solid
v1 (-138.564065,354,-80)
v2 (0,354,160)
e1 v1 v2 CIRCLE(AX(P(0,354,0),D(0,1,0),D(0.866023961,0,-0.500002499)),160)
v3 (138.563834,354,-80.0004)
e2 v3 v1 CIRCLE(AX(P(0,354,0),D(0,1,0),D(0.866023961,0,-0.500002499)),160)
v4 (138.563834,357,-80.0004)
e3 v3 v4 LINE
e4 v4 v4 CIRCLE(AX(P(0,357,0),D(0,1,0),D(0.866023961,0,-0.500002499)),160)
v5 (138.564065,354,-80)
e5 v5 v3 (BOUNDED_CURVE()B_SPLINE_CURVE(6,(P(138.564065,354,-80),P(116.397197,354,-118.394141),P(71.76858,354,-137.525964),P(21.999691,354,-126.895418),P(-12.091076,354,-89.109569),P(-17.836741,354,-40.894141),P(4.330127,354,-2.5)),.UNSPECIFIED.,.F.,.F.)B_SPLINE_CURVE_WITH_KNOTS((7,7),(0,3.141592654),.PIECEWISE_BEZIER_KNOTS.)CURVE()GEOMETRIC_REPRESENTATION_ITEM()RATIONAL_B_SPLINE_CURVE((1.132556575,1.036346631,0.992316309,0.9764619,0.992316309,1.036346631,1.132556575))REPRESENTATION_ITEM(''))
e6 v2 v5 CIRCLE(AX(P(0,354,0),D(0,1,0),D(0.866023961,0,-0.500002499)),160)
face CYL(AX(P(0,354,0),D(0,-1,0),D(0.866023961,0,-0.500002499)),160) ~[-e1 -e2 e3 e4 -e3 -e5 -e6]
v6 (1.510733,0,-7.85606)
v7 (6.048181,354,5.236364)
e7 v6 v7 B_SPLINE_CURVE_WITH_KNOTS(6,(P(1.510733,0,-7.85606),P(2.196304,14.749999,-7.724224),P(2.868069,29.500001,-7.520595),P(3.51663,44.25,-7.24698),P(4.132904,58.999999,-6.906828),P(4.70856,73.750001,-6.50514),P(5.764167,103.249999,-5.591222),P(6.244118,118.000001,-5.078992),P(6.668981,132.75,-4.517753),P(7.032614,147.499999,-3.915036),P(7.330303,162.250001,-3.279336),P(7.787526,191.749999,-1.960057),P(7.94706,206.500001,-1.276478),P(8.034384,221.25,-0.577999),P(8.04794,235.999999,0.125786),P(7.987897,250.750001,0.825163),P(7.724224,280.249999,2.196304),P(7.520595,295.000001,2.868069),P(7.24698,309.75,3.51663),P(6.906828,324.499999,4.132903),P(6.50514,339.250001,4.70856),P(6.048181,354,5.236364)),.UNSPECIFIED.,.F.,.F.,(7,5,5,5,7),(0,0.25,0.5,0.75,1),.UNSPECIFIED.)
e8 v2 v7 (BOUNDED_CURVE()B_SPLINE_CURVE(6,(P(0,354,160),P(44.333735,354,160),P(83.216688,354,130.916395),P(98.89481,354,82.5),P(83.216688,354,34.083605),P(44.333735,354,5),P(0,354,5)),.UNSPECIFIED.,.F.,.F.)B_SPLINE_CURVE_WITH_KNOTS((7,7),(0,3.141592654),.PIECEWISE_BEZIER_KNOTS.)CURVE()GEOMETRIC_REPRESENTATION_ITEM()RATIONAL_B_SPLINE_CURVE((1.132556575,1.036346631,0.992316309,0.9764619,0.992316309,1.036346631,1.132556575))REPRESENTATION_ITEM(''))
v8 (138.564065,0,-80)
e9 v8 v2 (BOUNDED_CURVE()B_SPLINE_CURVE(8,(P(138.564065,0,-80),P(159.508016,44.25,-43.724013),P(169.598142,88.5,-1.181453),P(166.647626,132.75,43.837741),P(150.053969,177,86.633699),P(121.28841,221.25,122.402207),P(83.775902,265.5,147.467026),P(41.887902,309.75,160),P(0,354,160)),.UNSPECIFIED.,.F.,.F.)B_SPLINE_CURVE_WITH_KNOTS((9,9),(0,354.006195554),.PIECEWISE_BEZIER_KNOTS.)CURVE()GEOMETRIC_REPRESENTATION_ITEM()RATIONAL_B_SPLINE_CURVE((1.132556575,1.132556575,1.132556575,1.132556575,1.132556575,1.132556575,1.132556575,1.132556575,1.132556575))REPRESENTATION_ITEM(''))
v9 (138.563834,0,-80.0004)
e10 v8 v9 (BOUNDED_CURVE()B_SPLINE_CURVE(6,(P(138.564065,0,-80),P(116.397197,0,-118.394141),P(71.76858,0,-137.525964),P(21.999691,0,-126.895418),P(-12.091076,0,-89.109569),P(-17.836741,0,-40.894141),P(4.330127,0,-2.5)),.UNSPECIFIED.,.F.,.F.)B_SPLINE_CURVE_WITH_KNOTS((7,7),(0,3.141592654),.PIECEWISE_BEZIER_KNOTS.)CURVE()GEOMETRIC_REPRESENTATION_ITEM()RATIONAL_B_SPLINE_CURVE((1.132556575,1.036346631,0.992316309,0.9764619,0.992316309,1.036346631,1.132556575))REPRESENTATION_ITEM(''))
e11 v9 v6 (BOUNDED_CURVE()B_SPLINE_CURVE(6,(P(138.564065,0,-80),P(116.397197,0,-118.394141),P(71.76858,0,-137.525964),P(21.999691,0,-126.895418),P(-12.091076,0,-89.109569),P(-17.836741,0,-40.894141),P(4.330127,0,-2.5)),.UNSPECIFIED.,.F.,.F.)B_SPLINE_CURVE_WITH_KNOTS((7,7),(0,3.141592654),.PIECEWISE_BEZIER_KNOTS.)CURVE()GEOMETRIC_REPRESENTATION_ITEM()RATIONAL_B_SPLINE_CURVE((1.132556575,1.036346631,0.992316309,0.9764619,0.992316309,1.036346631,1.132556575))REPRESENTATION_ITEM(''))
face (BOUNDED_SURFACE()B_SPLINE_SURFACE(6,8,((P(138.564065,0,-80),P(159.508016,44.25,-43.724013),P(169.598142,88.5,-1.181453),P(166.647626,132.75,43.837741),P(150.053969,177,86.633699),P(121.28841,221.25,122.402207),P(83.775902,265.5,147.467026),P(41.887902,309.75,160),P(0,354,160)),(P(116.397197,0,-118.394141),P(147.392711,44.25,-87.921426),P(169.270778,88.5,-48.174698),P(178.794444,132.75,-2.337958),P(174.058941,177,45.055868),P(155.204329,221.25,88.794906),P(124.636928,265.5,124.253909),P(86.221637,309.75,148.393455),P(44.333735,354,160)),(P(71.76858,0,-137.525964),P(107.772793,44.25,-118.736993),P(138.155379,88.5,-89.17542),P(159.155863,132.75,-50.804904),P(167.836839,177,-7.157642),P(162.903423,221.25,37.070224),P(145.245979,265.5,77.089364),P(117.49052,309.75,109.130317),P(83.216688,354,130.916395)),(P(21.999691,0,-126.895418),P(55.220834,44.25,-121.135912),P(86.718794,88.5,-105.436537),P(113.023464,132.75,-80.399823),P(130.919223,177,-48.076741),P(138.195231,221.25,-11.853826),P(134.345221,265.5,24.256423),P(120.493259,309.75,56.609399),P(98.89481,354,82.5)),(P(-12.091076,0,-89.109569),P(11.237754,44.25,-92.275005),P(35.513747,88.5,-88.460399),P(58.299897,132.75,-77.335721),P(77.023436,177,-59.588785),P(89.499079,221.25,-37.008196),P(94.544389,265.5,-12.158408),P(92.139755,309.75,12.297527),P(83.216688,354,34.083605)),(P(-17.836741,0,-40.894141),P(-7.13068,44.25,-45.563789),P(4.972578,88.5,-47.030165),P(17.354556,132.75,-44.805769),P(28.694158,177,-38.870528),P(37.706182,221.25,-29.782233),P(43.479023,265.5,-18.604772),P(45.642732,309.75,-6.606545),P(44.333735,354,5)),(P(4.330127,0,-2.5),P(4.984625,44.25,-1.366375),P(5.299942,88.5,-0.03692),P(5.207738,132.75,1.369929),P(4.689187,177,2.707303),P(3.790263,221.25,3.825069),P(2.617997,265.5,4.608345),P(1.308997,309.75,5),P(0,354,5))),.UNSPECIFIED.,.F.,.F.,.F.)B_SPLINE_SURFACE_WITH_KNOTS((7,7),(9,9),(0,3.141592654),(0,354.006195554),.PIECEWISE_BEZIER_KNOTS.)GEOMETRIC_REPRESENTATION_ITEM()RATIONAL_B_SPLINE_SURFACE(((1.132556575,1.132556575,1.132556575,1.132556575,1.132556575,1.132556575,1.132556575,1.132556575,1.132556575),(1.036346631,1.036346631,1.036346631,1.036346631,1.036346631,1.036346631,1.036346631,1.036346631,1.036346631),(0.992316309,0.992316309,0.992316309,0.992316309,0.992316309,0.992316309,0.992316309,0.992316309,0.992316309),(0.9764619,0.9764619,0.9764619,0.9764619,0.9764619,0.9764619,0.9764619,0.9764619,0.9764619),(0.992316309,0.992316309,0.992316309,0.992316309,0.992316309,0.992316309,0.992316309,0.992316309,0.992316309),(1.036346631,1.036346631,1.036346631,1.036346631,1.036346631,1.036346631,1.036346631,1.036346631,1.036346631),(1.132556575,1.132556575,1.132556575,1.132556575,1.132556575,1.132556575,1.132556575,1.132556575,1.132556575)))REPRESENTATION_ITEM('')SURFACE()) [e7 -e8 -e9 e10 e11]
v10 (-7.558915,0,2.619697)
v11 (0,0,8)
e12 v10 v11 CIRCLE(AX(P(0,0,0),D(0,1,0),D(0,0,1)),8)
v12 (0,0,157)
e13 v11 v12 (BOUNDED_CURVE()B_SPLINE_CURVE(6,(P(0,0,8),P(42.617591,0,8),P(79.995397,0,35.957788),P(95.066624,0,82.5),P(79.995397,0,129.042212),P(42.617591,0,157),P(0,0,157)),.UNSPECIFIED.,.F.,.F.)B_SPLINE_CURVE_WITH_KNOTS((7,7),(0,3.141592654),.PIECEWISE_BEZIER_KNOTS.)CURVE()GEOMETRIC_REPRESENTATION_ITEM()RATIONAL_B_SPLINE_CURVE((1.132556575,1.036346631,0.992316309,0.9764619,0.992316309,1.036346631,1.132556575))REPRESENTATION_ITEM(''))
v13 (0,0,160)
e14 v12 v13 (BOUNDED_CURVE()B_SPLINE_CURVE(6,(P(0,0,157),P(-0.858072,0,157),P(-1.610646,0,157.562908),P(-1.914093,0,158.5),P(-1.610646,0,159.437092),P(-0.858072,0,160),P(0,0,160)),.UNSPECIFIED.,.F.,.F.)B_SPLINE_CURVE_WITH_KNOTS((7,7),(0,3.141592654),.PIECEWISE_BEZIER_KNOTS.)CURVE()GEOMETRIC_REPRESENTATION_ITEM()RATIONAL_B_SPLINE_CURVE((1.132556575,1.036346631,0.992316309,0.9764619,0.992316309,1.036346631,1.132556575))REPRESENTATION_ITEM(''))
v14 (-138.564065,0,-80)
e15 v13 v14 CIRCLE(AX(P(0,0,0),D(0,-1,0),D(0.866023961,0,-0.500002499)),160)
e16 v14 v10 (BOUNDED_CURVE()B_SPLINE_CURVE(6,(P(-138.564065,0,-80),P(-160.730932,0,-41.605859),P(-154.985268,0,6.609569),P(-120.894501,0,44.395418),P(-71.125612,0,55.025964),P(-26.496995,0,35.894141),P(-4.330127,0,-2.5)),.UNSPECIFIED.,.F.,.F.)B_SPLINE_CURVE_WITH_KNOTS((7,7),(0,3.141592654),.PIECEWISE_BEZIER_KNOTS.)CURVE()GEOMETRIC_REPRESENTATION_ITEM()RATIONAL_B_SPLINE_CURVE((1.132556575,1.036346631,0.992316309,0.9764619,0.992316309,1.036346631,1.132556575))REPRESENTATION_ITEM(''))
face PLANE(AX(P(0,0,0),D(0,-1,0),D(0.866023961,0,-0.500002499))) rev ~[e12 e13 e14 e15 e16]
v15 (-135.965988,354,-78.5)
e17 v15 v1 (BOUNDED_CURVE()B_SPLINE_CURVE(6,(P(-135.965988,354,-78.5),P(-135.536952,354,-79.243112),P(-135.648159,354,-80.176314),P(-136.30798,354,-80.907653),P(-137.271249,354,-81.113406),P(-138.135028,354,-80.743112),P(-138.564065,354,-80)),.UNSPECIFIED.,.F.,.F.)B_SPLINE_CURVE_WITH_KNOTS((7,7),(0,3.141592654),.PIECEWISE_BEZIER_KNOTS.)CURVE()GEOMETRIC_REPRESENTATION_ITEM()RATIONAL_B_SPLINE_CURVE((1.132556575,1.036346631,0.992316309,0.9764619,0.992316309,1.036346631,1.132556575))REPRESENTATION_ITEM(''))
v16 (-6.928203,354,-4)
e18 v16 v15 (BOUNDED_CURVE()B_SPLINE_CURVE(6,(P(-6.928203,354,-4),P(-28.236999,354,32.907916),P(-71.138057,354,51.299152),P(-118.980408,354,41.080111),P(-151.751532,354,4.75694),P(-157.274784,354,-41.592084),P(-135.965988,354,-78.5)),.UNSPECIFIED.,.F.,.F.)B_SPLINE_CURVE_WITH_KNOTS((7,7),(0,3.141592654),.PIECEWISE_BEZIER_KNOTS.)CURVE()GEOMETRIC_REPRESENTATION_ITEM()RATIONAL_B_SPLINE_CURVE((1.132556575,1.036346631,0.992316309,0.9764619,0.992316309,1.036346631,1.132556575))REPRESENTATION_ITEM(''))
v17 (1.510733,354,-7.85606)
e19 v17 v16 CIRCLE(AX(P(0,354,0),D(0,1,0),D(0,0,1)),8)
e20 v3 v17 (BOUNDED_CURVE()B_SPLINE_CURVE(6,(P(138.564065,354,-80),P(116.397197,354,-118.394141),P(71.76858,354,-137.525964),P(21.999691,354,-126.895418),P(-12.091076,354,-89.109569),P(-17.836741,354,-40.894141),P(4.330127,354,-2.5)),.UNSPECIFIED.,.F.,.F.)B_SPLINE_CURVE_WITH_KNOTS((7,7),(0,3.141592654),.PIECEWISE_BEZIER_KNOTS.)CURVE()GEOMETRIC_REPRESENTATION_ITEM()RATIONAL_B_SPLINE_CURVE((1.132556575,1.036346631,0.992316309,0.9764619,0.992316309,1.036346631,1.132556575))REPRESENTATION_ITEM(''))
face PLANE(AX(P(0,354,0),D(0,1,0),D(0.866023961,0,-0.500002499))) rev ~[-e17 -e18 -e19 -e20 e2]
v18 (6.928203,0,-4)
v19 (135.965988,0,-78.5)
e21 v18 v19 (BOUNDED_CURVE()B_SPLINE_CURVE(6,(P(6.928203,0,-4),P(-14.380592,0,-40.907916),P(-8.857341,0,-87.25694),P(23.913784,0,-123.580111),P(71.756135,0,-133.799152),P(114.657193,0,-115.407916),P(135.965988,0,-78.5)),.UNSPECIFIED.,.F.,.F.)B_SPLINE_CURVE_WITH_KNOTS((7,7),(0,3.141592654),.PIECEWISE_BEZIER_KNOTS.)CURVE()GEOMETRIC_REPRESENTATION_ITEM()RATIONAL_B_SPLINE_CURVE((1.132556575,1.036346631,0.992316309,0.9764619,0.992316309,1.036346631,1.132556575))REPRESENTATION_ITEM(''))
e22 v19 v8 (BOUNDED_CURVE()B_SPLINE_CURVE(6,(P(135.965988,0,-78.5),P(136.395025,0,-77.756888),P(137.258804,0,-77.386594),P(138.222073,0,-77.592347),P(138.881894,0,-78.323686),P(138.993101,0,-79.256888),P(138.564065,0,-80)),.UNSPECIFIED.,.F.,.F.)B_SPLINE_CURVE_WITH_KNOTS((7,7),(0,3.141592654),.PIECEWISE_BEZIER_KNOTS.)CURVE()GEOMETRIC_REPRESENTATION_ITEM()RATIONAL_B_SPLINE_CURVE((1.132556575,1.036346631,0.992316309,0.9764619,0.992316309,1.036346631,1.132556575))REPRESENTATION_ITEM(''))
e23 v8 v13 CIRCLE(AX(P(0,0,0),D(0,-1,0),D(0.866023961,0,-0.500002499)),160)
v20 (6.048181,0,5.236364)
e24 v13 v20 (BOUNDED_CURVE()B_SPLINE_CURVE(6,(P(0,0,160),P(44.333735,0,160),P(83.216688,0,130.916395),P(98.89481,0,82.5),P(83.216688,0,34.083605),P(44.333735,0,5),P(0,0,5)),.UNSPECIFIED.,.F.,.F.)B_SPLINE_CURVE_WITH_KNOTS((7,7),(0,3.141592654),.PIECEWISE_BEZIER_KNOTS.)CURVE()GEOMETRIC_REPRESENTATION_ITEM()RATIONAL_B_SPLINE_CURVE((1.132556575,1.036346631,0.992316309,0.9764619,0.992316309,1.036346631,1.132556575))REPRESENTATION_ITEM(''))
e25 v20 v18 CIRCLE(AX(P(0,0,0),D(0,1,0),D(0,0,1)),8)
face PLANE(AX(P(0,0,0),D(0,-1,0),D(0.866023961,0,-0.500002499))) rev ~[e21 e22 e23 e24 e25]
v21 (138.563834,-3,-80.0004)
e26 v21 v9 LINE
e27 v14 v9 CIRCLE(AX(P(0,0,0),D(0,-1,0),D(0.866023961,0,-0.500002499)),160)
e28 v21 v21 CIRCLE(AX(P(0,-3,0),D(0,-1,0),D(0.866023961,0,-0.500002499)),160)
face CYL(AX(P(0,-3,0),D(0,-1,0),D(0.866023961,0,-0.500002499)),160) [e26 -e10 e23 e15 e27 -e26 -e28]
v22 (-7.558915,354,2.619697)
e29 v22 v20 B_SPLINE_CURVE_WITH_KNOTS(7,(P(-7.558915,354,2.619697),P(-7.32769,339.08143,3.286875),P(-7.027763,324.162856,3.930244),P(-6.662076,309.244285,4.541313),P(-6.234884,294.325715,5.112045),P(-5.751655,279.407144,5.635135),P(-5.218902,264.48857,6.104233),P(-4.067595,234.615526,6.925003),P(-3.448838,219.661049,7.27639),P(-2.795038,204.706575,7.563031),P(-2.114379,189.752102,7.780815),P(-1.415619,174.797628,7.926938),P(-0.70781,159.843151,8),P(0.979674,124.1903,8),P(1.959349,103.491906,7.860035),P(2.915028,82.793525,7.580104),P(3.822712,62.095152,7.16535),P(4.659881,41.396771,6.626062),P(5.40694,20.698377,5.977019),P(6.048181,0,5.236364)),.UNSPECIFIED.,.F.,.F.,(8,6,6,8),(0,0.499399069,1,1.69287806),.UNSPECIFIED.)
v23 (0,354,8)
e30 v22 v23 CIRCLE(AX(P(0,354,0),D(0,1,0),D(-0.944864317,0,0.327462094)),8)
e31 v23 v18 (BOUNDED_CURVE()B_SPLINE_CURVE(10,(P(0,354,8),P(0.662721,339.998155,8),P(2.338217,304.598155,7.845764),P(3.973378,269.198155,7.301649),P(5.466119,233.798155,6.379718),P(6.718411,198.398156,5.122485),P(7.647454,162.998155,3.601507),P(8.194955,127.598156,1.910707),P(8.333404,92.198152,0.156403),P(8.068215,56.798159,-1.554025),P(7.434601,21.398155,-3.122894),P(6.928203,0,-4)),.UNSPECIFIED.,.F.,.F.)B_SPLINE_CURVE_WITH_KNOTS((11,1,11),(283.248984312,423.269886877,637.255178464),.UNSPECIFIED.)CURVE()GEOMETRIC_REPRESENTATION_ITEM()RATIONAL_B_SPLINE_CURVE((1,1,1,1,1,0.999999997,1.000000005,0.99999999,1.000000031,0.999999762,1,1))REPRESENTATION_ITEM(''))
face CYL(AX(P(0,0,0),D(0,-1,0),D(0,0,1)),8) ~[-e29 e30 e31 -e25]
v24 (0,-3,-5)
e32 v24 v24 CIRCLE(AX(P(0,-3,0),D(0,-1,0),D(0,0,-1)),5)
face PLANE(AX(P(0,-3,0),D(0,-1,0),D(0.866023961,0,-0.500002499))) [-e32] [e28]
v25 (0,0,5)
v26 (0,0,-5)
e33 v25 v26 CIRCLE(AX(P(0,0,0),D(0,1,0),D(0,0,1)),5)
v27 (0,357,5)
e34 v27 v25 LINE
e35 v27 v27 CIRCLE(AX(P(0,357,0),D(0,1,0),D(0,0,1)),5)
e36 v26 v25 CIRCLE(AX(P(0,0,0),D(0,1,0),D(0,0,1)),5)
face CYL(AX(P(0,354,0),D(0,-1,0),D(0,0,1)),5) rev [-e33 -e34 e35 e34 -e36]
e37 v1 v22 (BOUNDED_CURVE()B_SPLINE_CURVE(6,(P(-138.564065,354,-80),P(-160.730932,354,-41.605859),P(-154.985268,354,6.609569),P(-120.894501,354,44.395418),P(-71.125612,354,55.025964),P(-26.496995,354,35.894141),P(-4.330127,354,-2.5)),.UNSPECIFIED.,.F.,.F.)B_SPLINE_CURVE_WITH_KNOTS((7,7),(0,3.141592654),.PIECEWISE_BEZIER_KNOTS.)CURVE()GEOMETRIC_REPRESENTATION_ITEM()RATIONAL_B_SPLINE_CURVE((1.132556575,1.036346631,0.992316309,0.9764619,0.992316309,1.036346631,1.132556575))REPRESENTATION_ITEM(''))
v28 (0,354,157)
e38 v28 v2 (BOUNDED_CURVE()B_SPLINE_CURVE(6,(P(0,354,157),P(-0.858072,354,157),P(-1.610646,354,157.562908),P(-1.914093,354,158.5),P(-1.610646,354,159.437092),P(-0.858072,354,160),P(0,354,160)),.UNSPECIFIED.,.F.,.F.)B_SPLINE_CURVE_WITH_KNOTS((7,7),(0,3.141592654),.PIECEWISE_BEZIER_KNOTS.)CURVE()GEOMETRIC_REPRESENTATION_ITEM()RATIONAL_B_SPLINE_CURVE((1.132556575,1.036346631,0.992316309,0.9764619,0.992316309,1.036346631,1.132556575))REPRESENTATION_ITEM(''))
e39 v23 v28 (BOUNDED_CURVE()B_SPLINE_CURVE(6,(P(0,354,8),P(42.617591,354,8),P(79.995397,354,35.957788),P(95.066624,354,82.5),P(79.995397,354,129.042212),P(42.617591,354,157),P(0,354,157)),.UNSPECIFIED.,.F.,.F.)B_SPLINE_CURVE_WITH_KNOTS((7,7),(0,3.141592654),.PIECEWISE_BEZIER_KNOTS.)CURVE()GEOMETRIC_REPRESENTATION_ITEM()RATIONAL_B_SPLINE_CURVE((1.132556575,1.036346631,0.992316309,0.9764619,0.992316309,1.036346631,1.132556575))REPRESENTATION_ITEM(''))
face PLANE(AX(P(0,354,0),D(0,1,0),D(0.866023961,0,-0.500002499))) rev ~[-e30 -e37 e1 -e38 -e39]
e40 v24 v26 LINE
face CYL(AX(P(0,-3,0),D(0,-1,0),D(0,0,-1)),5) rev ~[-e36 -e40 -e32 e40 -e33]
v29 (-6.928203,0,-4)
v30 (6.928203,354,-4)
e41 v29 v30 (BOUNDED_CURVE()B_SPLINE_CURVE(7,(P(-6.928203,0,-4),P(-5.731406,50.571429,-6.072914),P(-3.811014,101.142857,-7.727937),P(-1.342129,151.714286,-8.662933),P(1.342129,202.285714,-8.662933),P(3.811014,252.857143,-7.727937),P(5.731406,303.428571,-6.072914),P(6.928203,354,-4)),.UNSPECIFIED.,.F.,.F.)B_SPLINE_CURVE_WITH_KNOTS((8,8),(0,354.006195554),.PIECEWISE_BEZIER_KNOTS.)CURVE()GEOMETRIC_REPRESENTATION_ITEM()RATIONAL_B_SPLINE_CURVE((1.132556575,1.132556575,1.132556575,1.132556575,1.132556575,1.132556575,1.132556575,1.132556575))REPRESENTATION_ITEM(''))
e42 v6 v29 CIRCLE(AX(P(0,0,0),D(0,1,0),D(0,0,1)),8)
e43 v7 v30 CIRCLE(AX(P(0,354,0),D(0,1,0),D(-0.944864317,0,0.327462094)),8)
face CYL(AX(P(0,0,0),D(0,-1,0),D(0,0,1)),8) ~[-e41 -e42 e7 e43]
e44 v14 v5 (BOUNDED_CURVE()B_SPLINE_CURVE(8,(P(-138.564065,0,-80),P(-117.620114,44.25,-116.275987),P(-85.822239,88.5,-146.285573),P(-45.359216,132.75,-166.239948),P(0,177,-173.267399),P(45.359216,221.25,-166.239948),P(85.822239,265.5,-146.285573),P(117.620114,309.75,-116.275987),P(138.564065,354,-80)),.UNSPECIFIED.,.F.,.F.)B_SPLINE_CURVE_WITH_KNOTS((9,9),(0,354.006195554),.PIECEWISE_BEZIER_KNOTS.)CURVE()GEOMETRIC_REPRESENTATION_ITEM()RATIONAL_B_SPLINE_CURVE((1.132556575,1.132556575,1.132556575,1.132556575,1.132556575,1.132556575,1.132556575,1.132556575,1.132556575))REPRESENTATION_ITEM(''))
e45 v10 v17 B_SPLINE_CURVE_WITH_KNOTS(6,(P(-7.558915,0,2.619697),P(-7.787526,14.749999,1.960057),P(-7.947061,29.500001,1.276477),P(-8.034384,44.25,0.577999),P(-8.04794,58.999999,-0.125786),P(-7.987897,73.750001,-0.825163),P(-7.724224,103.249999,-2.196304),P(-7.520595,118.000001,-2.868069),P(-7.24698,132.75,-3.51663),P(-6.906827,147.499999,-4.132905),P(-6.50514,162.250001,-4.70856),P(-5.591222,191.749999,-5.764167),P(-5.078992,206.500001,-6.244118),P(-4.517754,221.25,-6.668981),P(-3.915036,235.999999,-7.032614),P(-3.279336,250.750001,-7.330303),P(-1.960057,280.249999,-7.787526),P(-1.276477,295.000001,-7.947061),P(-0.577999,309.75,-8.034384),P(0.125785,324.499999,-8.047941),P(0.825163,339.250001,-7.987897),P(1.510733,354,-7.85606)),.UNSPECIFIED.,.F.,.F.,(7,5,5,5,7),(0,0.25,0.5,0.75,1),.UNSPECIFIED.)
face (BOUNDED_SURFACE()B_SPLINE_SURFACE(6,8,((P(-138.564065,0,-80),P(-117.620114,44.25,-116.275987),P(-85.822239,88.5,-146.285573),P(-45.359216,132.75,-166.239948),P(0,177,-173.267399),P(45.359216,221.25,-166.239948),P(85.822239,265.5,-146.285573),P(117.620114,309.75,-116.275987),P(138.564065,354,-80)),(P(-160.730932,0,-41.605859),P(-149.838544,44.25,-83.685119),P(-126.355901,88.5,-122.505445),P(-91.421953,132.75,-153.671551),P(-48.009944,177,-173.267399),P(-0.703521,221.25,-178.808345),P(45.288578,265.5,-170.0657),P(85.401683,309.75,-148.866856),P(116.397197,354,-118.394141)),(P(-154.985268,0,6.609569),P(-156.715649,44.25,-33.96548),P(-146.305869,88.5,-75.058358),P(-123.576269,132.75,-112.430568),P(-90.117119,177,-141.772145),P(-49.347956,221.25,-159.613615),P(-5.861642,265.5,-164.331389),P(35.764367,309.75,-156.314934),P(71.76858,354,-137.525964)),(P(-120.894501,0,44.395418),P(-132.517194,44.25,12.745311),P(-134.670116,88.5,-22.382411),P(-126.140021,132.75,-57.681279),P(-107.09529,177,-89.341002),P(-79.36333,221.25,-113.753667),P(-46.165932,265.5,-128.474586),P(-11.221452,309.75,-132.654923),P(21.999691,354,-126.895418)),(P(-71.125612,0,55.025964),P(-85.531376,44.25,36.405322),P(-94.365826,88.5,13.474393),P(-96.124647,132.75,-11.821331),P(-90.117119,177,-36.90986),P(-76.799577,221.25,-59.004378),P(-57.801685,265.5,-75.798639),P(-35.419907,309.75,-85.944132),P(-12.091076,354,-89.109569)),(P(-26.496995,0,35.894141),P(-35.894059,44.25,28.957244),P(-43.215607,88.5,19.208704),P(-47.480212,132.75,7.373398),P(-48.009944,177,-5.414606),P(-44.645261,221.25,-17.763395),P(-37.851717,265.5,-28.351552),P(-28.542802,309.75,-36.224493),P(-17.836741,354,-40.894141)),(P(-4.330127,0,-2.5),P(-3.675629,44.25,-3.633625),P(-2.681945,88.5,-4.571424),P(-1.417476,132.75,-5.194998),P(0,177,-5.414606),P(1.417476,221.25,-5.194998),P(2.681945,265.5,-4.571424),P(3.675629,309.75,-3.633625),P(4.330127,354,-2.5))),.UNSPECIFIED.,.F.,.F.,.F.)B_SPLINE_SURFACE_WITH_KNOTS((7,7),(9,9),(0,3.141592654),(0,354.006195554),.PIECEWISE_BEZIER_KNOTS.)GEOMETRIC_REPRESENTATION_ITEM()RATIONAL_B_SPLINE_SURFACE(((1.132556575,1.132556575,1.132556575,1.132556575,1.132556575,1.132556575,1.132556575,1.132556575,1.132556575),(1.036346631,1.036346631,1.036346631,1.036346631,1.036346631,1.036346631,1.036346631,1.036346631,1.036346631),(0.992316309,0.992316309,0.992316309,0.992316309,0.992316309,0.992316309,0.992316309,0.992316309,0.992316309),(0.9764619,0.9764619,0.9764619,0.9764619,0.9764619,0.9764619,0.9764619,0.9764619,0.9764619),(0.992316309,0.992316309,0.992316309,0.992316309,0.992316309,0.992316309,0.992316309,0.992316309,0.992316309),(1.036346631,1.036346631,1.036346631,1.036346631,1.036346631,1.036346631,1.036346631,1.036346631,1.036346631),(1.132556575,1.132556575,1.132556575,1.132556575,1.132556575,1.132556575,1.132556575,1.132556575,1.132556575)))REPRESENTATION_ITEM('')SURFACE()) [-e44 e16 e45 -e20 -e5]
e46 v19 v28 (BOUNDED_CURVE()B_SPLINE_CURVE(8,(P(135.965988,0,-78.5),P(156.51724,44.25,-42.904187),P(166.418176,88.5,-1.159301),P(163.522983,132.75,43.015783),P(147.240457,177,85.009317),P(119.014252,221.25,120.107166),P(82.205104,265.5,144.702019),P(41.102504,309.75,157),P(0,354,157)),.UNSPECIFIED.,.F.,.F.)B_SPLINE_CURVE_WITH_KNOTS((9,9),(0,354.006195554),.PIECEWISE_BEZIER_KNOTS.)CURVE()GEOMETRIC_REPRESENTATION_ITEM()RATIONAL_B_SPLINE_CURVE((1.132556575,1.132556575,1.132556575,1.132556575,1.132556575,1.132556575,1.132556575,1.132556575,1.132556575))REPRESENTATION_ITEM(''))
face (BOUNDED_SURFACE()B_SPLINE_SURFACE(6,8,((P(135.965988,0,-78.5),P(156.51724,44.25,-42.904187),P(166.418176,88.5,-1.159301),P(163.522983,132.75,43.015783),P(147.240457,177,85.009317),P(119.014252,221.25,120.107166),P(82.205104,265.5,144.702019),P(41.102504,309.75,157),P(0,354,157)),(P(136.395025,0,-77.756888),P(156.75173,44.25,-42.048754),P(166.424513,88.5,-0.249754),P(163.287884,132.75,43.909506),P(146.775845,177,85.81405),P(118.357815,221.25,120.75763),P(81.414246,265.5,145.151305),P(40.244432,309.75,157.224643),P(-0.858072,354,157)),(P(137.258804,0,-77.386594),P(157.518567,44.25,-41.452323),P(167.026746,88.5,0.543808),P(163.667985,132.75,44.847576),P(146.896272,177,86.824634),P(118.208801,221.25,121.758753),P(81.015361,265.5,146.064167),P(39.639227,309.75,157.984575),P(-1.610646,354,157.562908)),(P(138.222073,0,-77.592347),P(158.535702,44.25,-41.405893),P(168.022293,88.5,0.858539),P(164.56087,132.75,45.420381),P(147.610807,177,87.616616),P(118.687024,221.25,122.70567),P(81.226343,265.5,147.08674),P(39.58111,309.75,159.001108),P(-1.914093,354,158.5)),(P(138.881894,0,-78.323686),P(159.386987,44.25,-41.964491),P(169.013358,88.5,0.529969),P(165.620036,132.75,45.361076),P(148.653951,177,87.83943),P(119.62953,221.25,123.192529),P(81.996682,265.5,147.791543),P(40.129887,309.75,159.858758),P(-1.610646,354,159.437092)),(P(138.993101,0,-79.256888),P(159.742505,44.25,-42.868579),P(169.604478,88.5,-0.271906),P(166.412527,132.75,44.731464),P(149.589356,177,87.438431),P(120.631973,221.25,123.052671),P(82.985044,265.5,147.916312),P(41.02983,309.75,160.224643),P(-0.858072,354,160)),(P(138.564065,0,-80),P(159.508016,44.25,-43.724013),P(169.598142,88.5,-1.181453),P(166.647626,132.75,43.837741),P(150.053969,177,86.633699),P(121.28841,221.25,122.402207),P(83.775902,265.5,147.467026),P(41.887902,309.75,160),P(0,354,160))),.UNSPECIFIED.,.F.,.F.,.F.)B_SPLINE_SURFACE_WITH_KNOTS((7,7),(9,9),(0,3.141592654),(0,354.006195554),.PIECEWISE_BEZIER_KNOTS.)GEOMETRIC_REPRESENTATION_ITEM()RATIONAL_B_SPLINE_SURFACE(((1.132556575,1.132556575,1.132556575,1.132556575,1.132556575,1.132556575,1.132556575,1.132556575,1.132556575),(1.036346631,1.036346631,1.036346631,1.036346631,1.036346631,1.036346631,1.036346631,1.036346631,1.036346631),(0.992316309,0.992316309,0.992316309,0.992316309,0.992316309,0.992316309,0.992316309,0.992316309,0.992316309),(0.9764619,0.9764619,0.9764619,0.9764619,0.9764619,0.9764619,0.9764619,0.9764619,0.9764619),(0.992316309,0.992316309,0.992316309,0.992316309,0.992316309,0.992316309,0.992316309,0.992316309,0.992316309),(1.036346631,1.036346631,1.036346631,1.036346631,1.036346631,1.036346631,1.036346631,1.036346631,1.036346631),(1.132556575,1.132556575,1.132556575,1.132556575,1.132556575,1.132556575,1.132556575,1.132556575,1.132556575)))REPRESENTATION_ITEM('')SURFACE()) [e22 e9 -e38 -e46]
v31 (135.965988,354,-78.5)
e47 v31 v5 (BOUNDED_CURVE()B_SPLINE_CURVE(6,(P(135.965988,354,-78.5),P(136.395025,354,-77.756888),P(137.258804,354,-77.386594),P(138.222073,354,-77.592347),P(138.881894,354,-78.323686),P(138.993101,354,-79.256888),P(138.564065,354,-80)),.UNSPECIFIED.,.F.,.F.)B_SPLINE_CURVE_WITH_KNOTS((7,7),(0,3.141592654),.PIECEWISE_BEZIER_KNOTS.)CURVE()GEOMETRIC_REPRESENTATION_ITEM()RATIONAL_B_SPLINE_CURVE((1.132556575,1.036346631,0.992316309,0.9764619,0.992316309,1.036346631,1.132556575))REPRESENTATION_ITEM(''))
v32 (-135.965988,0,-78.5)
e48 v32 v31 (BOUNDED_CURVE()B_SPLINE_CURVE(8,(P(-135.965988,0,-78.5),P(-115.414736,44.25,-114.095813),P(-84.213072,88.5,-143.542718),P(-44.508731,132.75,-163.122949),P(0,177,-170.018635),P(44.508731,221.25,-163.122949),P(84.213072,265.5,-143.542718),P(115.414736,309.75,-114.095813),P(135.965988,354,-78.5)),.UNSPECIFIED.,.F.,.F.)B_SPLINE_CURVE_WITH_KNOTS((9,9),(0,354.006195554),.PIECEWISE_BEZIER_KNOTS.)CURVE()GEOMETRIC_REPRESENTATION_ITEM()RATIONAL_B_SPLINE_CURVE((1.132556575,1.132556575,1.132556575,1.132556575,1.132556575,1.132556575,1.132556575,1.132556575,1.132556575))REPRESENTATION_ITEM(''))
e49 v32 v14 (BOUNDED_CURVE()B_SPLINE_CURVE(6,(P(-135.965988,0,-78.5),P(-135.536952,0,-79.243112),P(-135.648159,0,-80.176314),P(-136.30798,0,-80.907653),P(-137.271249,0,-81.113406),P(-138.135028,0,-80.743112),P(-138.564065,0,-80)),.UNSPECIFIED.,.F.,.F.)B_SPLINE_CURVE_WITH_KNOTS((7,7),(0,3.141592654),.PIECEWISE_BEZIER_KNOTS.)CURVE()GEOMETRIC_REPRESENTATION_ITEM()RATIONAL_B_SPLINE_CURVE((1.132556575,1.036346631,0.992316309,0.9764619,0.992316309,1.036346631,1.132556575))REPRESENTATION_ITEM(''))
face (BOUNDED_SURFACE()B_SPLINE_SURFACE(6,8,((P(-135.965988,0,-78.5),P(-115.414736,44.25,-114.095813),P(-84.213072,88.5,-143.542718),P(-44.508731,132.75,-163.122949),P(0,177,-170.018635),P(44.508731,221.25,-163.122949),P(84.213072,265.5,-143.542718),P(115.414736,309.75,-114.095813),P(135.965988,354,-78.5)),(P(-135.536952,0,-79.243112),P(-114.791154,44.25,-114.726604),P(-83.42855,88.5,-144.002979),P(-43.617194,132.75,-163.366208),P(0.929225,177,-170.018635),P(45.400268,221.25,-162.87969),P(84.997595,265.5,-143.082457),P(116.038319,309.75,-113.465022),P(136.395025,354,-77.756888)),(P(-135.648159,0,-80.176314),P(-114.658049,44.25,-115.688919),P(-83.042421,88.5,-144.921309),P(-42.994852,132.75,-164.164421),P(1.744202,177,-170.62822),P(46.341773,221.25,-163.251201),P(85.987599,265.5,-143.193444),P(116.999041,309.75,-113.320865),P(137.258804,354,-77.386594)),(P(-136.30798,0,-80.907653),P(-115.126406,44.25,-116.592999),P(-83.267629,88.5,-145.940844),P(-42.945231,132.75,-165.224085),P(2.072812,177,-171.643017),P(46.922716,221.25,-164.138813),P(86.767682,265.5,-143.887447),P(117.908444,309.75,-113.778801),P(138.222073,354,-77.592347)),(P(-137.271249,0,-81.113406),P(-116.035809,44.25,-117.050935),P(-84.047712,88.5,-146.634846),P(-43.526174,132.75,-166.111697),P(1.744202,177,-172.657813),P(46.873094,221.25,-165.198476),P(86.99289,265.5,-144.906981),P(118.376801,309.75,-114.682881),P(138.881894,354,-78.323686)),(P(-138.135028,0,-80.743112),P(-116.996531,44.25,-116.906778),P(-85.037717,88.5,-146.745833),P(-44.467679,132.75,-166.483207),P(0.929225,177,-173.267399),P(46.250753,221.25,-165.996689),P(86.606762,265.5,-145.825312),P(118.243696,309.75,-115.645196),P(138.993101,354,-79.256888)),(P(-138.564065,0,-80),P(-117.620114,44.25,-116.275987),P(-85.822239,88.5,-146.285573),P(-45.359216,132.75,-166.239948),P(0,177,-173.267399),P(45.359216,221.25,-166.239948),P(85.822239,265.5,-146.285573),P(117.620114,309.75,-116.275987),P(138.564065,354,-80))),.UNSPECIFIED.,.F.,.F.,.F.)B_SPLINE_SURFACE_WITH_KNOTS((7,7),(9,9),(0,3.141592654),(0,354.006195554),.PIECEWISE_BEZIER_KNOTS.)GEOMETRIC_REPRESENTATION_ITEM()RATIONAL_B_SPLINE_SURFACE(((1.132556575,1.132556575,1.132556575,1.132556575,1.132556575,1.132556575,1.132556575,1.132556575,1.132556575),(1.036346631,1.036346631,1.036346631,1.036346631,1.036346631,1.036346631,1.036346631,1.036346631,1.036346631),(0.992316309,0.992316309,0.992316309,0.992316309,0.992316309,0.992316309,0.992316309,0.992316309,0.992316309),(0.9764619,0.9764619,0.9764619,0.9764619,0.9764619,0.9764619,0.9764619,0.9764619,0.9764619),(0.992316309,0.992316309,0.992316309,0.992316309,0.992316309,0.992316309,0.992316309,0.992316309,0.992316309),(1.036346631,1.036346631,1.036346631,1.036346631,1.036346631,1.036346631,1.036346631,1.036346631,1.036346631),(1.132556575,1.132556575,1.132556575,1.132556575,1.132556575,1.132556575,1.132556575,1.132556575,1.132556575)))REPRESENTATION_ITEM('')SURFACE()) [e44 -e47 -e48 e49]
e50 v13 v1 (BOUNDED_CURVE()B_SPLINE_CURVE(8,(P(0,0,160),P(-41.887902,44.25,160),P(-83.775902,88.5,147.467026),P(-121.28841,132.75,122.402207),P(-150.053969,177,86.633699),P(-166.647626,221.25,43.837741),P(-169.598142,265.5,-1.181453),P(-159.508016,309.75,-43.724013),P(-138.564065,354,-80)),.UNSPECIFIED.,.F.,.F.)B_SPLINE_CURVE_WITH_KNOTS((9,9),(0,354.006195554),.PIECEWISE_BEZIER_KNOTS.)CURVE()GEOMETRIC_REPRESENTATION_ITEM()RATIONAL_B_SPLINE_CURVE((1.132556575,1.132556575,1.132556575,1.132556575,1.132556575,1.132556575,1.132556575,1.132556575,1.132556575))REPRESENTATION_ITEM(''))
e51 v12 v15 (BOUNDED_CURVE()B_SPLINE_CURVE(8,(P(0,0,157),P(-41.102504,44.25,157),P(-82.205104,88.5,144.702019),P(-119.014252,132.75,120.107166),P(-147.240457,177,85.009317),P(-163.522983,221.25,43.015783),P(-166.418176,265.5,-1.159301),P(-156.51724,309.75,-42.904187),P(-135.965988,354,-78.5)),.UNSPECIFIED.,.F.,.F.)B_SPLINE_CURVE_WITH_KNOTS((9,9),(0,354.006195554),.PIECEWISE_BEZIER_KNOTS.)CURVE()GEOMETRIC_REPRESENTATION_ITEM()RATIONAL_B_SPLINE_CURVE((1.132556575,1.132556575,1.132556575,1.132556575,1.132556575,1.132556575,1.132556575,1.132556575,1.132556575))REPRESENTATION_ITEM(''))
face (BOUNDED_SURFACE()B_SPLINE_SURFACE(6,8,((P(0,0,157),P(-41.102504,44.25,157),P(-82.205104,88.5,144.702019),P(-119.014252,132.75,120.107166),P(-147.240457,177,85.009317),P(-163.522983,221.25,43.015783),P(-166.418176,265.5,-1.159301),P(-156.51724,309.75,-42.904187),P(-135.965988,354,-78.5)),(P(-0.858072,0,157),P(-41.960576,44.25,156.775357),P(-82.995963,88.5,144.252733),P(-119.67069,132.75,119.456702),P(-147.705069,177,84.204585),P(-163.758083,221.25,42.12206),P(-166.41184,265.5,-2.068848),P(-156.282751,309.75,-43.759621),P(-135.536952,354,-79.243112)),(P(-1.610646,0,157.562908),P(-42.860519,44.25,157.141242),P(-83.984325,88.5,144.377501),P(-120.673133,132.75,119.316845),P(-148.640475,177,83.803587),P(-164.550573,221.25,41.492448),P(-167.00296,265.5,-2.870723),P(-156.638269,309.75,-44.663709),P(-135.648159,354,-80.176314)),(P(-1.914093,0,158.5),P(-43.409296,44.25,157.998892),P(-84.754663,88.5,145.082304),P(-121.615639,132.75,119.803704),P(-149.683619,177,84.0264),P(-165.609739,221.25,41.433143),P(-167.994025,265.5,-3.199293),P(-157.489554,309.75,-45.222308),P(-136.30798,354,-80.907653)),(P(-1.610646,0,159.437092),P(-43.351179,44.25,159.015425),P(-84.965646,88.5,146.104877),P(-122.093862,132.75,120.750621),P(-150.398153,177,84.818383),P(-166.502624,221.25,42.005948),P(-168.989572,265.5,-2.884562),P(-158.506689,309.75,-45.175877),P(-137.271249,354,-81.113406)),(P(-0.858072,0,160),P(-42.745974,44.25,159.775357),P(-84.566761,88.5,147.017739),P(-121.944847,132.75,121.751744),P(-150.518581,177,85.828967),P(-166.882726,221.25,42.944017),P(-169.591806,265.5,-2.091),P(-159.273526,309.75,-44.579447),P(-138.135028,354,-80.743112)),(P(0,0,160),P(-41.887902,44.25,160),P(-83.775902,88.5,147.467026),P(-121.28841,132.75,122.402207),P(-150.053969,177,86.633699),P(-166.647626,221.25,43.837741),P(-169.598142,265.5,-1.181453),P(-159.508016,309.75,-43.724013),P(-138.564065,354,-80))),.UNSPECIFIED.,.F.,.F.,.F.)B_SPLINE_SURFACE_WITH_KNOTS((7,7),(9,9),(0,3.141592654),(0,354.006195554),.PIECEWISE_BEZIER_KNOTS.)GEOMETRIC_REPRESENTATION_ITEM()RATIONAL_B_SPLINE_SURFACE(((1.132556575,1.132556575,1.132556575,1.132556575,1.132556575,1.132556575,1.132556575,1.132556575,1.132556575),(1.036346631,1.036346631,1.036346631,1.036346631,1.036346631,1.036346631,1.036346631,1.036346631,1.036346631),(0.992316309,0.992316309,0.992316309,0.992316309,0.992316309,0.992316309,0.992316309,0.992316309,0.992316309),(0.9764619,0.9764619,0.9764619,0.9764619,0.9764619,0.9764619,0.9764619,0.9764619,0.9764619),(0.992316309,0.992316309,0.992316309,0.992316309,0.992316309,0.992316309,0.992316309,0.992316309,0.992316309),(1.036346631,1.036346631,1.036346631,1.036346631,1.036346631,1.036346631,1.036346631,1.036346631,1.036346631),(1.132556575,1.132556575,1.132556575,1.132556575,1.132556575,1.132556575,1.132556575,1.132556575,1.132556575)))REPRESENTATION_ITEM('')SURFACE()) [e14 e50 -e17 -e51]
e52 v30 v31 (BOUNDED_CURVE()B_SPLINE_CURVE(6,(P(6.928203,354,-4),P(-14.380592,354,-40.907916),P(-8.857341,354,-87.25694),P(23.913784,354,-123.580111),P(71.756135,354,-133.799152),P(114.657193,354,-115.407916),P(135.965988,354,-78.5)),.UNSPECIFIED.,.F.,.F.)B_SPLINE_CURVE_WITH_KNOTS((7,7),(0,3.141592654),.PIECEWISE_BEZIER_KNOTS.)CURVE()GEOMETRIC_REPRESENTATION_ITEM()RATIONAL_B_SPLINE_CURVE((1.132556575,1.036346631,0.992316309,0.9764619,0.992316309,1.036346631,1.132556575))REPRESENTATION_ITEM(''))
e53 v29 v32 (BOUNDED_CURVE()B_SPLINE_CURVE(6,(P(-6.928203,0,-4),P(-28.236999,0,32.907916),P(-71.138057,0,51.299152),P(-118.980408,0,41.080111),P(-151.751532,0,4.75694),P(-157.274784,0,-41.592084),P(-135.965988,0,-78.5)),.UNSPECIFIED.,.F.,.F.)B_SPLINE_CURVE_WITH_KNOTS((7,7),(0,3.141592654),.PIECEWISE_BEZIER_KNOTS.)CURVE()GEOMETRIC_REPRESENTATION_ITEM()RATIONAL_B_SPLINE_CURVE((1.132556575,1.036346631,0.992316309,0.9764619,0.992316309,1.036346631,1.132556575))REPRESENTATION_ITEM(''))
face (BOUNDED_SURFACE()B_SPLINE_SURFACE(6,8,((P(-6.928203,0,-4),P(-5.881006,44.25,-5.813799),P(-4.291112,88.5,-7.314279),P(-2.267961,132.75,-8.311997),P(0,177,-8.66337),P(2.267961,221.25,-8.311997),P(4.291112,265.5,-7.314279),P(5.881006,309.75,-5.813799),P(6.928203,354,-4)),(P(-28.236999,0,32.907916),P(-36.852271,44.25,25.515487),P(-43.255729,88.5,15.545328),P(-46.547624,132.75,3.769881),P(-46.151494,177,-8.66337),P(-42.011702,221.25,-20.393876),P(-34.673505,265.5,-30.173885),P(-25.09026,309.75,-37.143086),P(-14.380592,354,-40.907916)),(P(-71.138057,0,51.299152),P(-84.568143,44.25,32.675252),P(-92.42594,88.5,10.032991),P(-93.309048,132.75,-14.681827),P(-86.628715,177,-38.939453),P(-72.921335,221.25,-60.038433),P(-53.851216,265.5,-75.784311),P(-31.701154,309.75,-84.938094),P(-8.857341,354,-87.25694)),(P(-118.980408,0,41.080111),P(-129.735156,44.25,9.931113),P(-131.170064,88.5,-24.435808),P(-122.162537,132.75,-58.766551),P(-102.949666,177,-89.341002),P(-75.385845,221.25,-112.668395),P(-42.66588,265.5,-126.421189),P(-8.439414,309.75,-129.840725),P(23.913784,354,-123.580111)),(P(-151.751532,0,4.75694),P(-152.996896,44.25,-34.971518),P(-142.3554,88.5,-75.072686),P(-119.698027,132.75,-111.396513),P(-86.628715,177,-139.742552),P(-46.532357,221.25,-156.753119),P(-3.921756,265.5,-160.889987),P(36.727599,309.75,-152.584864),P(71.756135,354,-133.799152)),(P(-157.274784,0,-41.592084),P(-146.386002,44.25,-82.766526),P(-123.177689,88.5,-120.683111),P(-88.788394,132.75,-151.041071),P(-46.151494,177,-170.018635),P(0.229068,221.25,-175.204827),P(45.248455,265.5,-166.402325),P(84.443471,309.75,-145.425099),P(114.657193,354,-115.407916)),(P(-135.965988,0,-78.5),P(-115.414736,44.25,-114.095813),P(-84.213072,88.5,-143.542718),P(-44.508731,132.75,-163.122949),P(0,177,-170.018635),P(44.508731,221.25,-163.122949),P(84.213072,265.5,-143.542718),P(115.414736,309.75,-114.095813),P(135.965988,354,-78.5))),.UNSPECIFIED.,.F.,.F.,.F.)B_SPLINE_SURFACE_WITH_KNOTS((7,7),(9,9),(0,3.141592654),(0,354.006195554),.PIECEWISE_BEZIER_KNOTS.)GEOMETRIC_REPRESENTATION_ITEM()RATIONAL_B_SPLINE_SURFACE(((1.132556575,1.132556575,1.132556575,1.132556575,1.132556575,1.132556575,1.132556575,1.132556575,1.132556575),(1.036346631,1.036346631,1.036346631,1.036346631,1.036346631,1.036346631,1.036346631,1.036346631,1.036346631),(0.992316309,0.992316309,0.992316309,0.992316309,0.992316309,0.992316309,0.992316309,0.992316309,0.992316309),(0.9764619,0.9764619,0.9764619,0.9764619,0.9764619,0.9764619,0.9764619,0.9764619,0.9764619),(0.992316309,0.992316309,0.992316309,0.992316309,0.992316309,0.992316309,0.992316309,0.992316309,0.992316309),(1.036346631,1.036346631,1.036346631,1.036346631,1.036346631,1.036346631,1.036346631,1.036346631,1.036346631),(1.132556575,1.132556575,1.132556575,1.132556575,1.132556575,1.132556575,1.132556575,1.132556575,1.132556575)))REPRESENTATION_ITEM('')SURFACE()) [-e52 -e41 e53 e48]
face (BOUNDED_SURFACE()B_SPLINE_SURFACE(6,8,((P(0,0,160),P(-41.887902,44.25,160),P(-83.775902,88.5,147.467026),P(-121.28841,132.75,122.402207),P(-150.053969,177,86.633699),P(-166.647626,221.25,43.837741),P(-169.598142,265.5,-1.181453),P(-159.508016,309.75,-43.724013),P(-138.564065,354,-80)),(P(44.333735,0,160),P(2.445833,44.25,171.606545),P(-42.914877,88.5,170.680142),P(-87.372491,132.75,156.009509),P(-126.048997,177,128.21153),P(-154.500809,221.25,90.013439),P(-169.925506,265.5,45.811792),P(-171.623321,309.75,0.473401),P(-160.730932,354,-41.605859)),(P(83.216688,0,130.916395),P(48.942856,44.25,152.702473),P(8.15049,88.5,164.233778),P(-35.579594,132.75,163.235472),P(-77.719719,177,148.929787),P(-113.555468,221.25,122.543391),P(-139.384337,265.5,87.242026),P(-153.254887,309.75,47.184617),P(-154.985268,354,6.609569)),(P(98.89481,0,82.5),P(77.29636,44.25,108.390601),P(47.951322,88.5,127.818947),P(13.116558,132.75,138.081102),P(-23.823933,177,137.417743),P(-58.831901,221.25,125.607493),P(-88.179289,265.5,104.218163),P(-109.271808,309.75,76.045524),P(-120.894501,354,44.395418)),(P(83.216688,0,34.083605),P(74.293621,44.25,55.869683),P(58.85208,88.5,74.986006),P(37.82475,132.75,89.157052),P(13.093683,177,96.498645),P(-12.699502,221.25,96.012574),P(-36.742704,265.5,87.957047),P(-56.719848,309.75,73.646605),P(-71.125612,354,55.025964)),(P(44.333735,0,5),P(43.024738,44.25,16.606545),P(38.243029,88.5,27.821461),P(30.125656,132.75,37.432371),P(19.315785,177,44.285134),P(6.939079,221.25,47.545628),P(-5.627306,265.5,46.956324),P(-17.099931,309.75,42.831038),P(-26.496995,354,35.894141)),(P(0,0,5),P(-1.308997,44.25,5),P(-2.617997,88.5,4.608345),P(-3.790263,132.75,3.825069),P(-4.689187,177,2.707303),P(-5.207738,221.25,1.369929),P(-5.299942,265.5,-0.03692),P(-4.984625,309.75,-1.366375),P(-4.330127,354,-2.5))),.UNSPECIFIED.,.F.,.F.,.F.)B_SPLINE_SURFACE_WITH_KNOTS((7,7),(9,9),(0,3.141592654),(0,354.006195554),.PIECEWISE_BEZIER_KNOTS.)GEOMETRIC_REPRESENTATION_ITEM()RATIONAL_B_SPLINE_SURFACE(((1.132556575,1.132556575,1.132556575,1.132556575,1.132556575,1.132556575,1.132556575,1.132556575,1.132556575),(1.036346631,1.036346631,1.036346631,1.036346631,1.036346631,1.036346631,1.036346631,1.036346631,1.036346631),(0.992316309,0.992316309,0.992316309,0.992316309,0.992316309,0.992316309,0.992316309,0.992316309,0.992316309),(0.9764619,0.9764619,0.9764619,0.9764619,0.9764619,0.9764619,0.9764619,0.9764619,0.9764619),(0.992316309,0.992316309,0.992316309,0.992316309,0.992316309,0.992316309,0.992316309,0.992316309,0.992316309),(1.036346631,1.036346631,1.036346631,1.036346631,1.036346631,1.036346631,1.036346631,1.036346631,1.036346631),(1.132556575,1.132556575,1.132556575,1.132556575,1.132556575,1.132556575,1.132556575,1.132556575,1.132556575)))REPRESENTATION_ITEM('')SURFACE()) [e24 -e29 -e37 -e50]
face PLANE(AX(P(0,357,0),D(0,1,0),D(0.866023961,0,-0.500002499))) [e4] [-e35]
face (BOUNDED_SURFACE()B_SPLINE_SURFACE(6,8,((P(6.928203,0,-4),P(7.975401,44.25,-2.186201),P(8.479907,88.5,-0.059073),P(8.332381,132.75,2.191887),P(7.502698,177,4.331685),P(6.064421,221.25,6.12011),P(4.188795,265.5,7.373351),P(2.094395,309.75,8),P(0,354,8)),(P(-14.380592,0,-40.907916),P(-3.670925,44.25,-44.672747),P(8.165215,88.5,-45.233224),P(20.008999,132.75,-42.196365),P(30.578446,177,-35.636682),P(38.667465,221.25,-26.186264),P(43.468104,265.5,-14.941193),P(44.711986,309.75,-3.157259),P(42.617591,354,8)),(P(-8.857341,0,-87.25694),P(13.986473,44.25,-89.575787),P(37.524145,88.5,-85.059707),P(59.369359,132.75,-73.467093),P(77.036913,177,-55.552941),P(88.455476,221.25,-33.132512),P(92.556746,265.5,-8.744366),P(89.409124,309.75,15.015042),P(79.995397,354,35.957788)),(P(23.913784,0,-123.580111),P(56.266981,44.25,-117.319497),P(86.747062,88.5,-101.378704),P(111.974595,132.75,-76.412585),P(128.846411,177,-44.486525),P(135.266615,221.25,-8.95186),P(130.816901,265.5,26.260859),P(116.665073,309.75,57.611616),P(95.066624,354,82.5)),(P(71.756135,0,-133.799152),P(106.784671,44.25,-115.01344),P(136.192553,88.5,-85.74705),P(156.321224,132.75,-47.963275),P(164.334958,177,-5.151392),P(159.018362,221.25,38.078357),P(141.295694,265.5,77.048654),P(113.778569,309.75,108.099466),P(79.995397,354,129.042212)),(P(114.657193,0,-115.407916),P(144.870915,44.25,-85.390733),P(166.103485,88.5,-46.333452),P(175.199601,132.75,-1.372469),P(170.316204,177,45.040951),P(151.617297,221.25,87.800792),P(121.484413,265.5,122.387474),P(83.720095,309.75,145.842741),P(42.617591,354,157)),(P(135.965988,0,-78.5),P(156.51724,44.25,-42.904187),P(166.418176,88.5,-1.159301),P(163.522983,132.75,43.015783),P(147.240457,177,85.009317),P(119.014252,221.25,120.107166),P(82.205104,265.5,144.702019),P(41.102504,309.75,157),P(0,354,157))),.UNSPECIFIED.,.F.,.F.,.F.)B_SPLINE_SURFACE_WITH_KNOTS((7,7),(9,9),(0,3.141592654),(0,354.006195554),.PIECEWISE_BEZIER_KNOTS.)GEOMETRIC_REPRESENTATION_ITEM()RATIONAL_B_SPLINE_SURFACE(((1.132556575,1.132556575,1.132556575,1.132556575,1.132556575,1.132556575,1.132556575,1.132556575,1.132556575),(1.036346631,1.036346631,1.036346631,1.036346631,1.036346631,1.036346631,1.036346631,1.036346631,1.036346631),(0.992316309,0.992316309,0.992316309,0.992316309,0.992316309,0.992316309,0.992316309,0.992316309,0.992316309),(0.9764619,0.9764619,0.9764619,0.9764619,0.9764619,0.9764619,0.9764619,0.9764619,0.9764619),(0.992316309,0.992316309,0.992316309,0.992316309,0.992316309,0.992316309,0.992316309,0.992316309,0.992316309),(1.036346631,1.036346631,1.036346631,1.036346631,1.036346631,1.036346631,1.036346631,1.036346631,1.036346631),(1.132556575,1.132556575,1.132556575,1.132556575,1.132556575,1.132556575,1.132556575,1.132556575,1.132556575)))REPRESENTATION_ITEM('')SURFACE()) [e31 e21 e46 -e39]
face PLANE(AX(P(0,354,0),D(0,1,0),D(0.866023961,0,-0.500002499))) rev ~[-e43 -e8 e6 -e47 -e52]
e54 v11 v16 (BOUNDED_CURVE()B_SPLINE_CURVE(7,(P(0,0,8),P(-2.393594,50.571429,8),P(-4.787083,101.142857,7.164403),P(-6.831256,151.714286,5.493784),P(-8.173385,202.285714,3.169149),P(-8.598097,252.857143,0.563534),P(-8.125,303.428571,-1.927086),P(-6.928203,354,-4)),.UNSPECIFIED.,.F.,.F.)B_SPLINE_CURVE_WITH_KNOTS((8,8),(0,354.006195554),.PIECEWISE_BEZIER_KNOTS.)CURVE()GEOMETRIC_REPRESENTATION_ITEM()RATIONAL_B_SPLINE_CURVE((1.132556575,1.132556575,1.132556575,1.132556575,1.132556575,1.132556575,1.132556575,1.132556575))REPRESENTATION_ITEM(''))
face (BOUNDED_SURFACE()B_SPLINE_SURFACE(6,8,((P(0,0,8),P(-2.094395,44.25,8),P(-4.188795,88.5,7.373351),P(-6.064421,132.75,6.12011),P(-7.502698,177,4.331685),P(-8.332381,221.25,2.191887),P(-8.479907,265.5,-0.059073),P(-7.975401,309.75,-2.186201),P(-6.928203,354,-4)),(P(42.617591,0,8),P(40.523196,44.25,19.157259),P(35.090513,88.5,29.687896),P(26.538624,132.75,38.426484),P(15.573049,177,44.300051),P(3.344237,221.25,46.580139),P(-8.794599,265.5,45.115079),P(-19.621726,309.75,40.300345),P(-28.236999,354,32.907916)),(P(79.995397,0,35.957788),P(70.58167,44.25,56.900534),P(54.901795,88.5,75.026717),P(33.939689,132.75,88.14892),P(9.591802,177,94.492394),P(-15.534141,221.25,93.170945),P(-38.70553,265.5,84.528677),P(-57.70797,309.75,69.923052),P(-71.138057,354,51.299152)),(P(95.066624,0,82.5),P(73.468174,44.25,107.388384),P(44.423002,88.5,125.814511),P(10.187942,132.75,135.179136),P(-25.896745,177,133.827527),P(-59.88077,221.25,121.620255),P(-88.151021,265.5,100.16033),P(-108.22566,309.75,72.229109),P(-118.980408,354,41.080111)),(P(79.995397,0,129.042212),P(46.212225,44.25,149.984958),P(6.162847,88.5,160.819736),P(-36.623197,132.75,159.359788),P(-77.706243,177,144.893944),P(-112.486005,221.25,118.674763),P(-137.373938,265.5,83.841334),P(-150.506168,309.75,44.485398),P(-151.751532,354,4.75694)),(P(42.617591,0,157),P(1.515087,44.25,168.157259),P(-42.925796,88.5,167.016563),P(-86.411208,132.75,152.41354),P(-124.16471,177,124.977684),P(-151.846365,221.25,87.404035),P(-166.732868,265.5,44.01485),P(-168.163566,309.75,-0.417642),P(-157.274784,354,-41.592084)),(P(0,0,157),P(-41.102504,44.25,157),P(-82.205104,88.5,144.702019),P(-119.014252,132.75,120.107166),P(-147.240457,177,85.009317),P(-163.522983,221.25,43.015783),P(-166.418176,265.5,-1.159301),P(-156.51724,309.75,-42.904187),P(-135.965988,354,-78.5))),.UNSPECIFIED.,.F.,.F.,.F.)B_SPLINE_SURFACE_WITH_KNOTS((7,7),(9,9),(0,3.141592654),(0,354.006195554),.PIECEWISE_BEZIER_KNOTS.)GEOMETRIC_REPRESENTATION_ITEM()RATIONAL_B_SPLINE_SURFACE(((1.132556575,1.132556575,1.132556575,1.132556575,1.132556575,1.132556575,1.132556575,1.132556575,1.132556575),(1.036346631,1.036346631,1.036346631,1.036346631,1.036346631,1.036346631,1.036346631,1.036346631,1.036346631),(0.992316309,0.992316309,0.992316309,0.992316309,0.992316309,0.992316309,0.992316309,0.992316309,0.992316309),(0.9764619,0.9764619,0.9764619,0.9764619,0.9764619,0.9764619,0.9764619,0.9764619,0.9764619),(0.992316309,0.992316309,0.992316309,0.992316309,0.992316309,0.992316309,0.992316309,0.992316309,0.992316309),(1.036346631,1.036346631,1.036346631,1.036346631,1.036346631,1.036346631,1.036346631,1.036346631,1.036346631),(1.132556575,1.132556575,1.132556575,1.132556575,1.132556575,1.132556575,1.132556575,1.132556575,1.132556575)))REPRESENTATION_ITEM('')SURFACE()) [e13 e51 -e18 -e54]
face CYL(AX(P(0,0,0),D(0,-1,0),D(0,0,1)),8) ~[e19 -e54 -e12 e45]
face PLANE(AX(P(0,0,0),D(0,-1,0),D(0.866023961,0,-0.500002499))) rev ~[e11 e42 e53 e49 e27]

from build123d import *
from build123d.topology import SkipClean

# Parameters (mm, degrees)
SKETCH2_R           = 8
SKETCH2_R_2         = 5
BOSS_EXTRUDE1_DEPTH = 354
SWEEP1_PITCH        = 1062
SWEEP1_HEIGHT       = 354
SWEEP1_RADIUS       = 160
CIRPATTERN1_COUNT   = 3
SKETCH4_R           = 160.000000003
SKETCH4_R_2         = 5
BOSS_EXTRUDE2_DEPTH = 3
BOSS_EXTRUDE3_START = 3
SKETCH5_R           = 160
SKETCH5_R_2         = 5
BOSS_EXTRUDE3_DEPTH = 3


with BuildPart() as part:
    # Sketch2 → Boss-Extrude1 (new body)
    with BuildSketch(Plane(origin=(0, 0, 0), x_dir=(1, 0, 0), z_dir=(0, 1, 0))):
        with Locations(Location((0, 0, 0), (0, 0, 270))):
            Circle(SKETCH2_R)
        with Locations(Location((0, 0, 0), (0, 0, 270))):
            Circle(SKETCH2_R_2, mode=Mode.SUBTRACT)
    extrude(amount=BOSS_EXTRUDE1_DEPTH)

    # Sweep1: sweep along a helix
    with BuildLine() as sweep1_path:
        Helix(SWEEP1_PITCH, SWEEP1_HEIGHT, SWEEP1_RADIUS, center=(0, 0, 0), direction=(0, 1, 0), lefthand=True)
    with BuildLine() as sweep1_axis:
        Line((0, 0, 0), (0, 354, 0))
    # Sketch3 → Sweep1 (sweep)
    with BuildSketch(Plane(origin=(0, 0, 0), x_dir=(1, 0, 0), z_dir=(0, 1, 0))):
        with BuildLine():
            ThreePointArc((0, -160), (77.5, -82.5), (0, -5))
            ThreePointArc((0, -5), (-1.5, -6.5), (0, -8))
            ThreePointArc((0, -8), (74.5, -82.5), (0, -157))
            ThreePointArc((0, -157), (-1.5, -158.5), (0, -160))
        make_face()
    sweep1 = sweep(path=sweep1_path.line, binormal=sweep1_axis.edges()[0])

    # CirPattern1: Sweep1 ×3 about axis
    cirpattern1_axis = Axis((0, 371.7, 0), (0, -1, 0))
    for i in range(1, CIRPATTERN1_COUNT):
        add(sweep1.rotate(cirpattern1_axis, i * 360 / CIRPATTERN1_COUNT))

    # Sketch4 → Boss-Extrude2 (add)
    with BuildSketch(Plane(origin=(0, 354, 0), x_dir=(1, 0, 0), z_dir=(0, 1, 0))):
        with Locations(Location((0, 0, 0), (0, 0, 30.00016535))):
            Circle(SKETCH4_R)
        with Locations(Location((0, 0, 0), (0, 0, 270))):
            Circle(SKETCH4_R_2, mode=Mode.SUBTRACT)
    extrude(amount=BOSS_EXTRUDE2_DEPTH)

    # Sketch5 → Boss-Extrude3 (add)
    with SkipClean():  # the faces are left unmerged after this step: merging them gives an invalid solid
        with BuildSketch(Plane.XZ.offset(BOSS_EXTRUDE3_START)):
            with Locations(Location((0, 0, 0), (0, 0, 329.99983465))):
                Circle(SKETCH5_R)
            with Locations(Location((0, 0, 0), (0, 0, 270))):
                Circle(SKETCH5_R_2, mode=Mode.SUBTRACT)
        extrude(amount=-BOSS_EXTRUDE3_DEPTH)


solid = part.part
